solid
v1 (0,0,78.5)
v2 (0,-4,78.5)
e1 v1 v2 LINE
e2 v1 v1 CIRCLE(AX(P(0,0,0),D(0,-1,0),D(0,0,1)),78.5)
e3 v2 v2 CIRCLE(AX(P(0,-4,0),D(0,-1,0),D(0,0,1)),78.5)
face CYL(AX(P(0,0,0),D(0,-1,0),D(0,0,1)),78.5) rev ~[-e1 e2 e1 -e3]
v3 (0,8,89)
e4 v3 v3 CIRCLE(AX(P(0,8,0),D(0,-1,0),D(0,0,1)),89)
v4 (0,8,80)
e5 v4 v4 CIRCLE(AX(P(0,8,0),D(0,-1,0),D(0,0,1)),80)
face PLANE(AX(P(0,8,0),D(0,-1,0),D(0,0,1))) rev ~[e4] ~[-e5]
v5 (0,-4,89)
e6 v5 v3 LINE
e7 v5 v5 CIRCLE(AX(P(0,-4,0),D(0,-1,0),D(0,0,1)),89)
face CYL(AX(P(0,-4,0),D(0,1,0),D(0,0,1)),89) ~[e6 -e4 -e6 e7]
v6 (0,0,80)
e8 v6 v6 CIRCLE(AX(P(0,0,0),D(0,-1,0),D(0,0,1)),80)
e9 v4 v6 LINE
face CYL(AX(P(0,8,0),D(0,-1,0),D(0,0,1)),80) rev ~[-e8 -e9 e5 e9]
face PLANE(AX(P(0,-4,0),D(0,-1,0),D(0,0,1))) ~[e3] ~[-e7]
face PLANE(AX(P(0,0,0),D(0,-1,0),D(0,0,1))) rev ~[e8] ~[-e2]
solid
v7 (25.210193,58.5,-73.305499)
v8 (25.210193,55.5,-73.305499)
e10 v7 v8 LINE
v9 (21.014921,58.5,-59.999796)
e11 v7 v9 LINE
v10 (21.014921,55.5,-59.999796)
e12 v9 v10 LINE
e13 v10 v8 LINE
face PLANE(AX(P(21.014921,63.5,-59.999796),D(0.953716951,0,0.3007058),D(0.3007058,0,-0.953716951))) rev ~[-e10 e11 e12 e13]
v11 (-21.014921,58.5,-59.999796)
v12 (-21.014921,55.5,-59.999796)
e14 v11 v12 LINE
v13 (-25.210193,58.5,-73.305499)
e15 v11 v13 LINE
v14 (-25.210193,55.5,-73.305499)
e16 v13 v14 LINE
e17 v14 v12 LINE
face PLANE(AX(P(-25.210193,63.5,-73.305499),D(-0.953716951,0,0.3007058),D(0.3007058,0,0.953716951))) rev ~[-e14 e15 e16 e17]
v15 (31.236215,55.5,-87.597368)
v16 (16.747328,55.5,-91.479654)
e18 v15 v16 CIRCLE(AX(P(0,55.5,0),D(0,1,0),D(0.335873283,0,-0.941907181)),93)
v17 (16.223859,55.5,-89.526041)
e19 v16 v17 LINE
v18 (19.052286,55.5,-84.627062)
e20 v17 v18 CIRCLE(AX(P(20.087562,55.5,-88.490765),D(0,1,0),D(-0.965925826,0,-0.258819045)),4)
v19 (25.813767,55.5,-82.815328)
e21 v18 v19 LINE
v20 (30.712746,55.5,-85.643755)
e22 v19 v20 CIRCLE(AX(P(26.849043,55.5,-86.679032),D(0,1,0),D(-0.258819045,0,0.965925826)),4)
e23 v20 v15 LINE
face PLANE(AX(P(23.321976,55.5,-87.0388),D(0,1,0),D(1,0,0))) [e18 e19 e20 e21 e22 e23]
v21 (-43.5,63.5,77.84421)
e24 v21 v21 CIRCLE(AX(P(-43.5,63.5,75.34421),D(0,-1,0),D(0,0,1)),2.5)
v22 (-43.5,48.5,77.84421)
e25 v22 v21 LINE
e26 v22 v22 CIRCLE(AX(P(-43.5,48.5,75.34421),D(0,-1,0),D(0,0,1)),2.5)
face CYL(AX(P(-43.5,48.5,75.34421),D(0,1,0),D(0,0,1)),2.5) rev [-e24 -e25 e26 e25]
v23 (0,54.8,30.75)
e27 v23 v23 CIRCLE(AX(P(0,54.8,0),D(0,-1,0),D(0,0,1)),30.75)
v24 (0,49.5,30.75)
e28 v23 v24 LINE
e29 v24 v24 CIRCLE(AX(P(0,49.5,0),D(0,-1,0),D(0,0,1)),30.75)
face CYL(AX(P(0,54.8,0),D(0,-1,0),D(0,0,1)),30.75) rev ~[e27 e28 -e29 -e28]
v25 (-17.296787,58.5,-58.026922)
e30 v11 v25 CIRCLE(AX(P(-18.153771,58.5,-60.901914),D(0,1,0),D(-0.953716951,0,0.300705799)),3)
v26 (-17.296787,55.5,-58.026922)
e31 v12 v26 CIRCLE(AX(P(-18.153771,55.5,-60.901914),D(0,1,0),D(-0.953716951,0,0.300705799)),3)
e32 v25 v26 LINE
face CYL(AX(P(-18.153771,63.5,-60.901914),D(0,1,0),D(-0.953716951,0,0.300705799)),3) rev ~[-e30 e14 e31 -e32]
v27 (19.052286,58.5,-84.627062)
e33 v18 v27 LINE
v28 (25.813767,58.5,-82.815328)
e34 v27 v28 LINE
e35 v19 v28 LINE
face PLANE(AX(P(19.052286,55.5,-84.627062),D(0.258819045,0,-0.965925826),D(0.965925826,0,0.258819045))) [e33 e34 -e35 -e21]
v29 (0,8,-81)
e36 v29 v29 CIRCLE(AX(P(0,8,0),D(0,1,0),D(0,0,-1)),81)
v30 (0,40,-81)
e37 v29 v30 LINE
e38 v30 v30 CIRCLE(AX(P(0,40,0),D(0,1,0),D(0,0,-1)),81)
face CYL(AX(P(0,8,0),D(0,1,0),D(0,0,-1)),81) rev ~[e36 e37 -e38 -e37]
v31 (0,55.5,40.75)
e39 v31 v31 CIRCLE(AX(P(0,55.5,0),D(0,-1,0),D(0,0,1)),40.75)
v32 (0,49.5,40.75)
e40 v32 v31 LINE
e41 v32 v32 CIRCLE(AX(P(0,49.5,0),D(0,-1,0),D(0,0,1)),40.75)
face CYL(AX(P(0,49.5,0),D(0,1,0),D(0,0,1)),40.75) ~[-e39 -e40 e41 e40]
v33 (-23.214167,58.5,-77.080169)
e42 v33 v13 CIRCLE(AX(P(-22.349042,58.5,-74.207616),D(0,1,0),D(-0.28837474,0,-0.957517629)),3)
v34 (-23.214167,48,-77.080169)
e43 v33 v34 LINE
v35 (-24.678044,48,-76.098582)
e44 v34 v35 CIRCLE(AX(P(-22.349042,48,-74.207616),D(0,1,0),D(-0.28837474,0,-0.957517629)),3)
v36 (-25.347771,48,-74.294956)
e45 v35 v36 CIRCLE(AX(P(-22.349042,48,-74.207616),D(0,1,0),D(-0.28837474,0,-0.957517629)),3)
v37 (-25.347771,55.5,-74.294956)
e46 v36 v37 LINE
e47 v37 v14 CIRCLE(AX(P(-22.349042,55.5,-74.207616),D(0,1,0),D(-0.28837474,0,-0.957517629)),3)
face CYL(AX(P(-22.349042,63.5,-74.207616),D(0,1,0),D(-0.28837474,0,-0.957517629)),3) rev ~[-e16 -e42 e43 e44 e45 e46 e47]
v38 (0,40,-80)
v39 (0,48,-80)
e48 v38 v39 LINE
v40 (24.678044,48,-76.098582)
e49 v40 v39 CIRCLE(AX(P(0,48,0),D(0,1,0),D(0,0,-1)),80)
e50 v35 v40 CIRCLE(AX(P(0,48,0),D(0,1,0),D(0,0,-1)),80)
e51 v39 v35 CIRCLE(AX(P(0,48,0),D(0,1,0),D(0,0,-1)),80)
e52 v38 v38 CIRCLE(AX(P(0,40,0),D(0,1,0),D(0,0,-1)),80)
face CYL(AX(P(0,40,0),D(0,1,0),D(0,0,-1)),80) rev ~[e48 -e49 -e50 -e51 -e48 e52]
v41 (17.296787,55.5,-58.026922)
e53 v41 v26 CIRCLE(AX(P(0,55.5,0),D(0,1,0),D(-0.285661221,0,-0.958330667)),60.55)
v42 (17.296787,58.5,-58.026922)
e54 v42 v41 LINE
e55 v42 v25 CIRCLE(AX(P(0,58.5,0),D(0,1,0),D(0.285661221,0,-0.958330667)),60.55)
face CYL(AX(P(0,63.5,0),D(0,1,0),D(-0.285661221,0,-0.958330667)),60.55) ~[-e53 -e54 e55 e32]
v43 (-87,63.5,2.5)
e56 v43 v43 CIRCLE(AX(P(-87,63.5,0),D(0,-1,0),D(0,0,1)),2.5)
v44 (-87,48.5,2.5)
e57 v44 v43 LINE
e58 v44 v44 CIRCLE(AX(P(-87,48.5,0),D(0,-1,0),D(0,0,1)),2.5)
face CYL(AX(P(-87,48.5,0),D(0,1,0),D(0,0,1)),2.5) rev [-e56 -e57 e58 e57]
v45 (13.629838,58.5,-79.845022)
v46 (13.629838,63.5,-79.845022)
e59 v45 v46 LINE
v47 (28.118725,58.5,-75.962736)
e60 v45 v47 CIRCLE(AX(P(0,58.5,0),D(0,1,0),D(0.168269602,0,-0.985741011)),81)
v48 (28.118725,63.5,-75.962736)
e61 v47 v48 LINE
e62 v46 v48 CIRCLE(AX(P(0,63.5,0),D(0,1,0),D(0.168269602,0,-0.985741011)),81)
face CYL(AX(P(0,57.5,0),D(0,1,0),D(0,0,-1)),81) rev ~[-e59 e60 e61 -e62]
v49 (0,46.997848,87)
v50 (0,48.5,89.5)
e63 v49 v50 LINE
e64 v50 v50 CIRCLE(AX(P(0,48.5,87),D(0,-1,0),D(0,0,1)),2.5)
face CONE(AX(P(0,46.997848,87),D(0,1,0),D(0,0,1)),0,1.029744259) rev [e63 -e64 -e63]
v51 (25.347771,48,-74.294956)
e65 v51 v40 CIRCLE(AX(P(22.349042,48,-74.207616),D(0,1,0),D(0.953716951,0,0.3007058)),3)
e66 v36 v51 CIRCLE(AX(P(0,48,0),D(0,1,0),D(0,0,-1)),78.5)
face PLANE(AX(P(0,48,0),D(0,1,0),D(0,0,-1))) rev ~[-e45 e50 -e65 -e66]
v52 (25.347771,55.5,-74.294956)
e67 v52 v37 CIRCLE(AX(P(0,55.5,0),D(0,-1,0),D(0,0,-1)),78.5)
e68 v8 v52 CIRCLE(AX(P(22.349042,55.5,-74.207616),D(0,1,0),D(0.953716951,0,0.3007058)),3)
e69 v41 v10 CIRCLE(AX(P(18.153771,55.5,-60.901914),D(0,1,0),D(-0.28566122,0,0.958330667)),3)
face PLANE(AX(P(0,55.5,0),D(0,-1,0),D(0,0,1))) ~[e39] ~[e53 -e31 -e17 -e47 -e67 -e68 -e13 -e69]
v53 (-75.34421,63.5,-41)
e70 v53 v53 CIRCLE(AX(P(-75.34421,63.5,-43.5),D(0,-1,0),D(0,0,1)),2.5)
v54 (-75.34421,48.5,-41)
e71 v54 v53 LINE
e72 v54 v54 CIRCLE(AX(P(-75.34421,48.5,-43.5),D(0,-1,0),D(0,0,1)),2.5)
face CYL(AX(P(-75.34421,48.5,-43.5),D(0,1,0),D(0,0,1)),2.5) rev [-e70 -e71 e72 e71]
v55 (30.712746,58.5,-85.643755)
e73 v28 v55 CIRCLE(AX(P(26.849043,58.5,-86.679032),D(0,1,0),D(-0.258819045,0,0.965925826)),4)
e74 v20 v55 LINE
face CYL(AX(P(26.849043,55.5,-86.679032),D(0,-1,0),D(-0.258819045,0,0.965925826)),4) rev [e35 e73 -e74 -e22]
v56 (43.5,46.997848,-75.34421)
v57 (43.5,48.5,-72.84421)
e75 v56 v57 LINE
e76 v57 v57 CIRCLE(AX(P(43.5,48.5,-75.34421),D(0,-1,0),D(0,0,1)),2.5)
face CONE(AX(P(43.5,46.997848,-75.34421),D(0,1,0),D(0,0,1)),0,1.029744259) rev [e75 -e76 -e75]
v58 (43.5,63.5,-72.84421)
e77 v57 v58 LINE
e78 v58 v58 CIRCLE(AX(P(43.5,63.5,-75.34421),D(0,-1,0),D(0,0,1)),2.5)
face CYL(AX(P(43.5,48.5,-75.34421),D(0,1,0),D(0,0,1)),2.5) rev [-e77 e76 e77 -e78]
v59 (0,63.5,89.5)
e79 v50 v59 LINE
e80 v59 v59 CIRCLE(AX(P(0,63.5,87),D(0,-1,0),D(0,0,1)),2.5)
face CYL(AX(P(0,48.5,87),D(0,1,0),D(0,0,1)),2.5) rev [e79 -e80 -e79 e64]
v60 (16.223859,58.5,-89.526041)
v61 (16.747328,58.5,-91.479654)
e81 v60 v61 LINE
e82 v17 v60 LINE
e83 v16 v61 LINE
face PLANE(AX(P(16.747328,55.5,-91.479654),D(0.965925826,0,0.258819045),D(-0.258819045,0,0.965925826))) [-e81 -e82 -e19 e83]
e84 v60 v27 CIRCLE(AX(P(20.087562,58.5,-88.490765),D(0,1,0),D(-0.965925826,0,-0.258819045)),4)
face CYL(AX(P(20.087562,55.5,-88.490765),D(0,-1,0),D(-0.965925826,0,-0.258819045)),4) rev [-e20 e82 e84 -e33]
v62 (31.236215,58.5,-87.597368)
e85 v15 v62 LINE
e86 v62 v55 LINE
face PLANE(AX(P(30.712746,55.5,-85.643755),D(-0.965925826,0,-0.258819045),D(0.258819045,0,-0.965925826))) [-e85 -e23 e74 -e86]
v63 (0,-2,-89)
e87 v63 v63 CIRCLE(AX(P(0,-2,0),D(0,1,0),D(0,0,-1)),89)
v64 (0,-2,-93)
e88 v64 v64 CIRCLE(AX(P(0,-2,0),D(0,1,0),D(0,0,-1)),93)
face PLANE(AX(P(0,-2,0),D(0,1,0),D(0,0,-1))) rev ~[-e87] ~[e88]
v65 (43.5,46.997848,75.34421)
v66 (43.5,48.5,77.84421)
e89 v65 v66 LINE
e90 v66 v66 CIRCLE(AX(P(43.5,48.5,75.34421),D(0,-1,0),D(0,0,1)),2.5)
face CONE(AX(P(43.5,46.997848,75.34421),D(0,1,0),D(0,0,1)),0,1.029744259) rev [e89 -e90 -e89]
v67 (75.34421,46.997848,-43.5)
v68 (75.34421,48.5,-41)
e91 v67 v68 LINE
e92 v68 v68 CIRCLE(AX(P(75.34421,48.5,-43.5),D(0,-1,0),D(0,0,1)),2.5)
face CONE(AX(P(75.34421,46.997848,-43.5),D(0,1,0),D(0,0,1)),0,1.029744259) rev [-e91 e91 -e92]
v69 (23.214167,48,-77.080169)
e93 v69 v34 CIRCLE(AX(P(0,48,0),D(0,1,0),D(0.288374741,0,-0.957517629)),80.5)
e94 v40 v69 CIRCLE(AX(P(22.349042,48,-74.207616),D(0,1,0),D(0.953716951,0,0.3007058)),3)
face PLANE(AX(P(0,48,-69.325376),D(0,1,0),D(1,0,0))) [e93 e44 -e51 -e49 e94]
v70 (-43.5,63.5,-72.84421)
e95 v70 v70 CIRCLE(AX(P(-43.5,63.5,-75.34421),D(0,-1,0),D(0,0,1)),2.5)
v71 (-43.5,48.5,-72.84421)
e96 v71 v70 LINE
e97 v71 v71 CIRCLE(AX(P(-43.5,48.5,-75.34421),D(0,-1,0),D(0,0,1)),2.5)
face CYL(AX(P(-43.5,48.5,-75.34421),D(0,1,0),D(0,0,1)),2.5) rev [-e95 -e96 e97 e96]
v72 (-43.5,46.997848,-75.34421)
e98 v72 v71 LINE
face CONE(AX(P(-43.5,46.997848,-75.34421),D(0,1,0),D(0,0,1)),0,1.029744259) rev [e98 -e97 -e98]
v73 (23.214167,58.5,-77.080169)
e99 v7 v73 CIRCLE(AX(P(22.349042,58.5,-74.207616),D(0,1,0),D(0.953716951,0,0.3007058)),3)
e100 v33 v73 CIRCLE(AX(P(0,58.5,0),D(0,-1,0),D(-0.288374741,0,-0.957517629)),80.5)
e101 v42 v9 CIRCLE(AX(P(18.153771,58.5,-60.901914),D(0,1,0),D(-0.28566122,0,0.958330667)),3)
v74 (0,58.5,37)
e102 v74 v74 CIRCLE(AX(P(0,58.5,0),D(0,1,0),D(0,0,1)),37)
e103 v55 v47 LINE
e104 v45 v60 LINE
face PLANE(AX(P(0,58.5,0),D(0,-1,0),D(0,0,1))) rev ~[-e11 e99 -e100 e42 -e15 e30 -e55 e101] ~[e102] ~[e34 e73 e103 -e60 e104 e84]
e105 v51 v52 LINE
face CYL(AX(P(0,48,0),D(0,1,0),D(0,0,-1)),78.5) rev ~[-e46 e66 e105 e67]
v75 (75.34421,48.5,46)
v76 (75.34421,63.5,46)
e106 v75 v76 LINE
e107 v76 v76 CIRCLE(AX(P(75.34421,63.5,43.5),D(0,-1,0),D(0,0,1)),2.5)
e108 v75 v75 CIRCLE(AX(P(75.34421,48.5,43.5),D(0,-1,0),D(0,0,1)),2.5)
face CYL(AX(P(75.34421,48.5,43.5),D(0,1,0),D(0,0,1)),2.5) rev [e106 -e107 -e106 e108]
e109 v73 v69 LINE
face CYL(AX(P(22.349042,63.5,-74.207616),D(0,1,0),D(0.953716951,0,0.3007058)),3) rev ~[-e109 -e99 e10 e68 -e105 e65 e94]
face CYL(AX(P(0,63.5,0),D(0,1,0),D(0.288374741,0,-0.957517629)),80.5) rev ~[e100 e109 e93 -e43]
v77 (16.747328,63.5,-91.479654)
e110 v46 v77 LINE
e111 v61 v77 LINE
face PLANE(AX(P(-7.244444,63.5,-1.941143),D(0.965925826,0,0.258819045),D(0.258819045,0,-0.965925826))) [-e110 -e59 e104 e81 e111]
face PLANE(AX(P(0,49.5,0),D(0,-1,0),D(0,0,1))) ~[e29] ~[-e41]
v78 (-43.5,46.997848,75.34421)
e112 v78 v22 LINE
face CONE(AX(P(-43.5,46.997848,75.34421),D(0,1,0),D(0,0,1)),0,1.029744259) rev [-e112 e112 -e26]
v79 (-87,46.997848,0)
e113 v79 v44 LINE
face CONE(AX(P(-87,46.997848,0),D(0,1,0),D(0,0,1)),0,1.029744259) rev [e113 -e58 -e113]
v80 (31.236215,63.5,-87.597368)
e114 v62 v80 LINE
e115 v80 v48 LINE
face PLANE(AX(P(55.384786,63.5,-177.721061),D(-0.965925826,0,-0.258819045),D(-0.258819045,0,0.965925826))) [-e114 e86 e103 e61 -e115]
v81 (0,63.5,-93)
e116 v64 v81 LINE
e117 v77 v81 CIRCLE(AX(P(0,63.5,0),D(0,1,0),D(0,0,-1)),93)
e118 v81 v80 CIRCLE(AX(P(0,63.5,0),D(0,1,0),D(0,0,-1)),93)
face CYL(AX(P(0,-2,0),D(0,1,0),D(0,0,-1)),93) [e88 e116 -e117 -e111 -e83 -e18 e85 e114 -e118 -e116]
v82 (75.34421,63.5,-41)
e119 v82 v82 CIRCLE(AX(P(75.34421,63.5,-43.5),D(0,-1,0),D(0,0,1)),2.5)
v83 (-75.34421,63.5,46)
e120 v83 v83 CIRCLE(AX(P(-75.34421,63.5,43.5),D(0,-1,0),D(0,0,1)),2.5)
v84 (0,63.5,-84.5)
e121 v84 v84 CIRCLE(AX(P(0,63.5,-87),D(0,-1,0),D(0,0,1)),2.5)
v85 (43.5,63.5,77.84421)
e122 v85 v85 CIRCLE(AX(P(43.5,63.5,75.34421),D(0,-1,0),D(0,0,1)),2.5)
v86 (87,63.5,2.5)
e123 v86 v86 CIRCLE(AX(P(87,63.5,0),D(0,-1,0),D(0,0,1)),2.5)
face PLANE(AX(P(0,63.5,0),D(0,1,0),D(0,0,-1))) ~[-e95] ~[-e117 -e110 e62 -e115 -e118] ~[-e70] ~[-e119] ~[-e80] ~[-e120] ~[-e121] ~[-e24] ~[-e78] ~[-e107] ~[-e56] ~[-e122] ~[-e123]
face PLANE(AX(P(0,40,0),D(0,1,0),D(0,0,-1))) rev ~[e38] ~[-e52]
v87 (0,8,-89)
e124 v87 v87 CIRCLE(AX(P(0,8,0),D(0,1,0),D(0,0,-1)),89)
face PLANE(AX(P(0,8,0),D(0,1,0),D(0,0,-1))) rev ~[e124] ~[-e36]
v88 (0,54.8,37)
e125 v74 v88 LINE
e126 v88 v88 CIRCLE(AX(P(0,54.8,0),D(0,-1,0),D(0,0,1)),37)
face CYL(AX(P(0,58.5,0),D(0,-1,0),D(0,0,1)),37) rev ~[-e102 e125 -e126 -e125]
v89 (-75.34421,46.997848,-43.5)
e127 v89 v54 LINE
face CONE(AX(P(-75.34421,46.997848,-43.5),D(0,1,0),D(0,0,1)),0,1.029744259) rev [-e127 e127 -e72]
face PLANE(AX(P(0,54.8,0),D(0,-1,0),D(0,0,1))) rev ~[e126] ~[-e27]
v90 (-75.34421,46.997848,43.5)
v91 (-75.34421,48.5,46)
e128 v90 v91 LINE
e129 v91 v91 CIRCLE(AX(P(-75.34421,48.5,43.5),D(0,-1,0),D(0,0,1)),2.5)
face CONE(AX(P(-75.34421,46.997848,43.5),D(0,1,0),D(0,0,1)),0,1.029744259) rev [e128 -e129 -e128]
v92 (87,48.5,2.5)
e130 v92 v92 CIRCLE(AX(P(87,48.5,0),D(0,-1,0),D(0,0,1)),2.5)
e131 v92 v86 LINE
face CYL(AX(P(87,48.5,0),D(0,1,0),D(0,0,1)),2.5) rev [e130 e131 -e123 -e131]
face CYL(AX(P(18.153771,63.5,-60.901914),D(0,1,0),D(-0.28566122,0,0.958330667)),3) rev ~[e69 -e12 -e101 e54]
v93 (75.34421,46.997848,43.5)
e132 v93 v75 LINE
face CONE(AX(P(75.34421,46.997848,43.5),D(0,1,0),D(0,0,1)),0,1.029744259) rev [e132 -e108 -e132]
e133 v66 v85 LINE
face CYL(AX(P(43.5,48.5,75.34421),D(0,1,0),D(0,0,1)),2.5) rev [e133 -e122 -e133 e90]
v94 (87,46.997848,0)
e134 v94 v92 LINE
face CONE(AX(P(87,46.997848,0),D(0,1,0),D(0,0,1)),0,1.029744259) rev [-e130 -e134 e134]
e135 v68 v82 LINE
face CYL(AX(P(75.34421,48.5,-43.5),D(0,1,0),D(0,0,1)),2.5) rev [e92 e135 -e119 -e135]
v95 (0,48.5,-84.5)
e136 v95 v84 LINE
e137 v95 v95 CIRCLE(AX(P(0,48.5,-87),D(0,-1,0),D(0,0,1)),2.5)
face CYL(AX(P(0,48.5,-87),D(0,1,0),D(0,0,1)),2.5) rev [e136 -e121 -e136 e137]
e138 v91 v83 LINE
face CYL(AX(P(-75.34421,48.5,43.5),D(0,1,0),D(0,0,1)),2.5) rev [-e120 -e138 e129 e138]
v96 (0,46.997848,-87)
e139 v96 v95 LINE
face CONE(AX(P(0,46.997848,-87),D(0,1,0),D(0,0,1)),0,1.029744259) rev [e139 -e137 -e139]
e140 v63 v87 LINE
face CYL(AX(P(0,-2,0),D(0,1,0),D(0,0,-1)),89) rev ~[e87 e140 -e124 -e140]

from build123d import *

# Parameters (mm, degrees)
M6_TAPPED_HOLE1_AT_2_COUNT  = 2
M6_TAPPED_HOLE1_AT_2_PITCH  = 45.034513848
M6_TAPPED_HOLE1_AT_3_COUNT  = 2
M6_TAPPED_HOLE1_AT_3_PITCH  = 87
M6_TAPPED_HOLE1_AT_4_COUNT  = 2
M6_TAPPED_HOLE1_AT_4_PITCH  = 123.036579926
M6_TAPPED_HOLE1_AT_5_COUNT  = 2
M6_TAPPED_HOLE1_AT_5_PITCH  = 150.688420258
M6_TAPPED_HOLE1_AT_6_COUNT  = 2
M6_TAPPED_HOLE1_AT_6_PITCH  = 168.071093774
M6_TAPPED_HOLE1_AT_7_COUNT  = 2
M6_TAPPED_HOLE1_AT_7_PITCH  = 174
M6_TAPPED_HOLE1_AT_8_COUNT  = 2
M6_TAPPED_HOLE1_AT_8_PITCH  = 168.071093774
M6_TAPPED_HOLE1_AT_9_COUNT  = 2
M6_TAPPED_HOLE1_AT_9_PITCH  = 150.688420258
M6_TAPPED_HOLE1_AT_10_COUNT = 2
M6_TAPPED_HOLE1_AT_10_PITCH = 123.036579926
M6_TAPPED_HOLE1_AT_11_COUNT = 2
M6_TAPPED_HOLE1_AT_11_PITCH = 87
M6_TAPPED_HOLE1_AT_12_COUNT = 2
M6_TAPPED_HOLE1_AT_12_PITCH = 45.034513848
CUT_EXTRUDE1_DEPTH          = 15.5
CUT_EXTRUDE2_DEPTH          = 5
CUT_EXTRUDE3_START          = -3
CUT_EXTRUDE3_DEPTH          = 3


with BuildPart() as part:
    # Sketch2 → Revolve1 (revolve)
    with BuildSketch(Plane.XY, mode=Mode.PRIVATE) as revolve1_sk:
        Polygon((81, 8), (81, 40), (80, 40), (80, 48), (78.5, 48), (78.5, 56.5), (81, 57.5), (81, 63.5), (93, 63.5), (93, 60.5), (93, -2), (89, -2), (89, 8), align=None)
    revolve(revolve1_sk.sketch.rotate(Axis((0, 0, 0), (0, 1, 0)), 90), axis=Axis((0, 0, 0), (0, 1, 0)))

    # Sketch15 → Revolve3 (revolve)
    with BuildSketch(Plane.XY, mode=Mode.PRIVATE) as revolve3_sk:
        Polygon((37, 57.8), (37, 54.8), (30.75, 54.8), (30.75, 49.5), (40.75, 49.5), (40.75, 55.5), (78.5, 55.5), (78.5, 56.5), (81, 57.5), (81, 58.5), (37, 58.5), align=None)
    revolve(revolve3_sk.sketch.rotate(Axis((0, 60.772219232, 0), (0, -1, 0)), 90), axis=Axis((0, 60.772219232, 0), (0, -1, 0)))

    # Sketch11 → M6 Tapped Hole1 (revolve, cut)
    with BuildSketch(Plane(origin=(0, 63.5, -87), x_dir=(0, 0, 1), z_dir=(1, 0, 0))):
        Polygon((0, 0), (0, 16.502151548), (2.5, 15), (2.5, 0), align=None)
    m6_tapped_hole1 = revolve(axis=Axis((0, 69.85, -87), (0, -1, 0)), mode=Mode.SUBTRACT)

    # M6 Tapped Hole1 at 2: M6 Tapped Hole1 ×2
    with Locations(*[Vector(0.9659258262890639, 0, 0.2588190451025372) * (i * M6_TAPPED_HOLE1_AT_2_PITCH) for i in range(1, M6_TAPPED_HOLE1_AT_2_COUNT)]):
        add(m6_tapped_hole1, mode=Mode.SUBTRACT)

    # M6 Tapped Hole1 at 3: M6 Tapped Hole1 ×2
    with Locations(*[Vector(0.8660254037844218, 0, 0.5000000000000291) * (i * M6_TAPPED_HOLE1_AT_3_PITCH) for i in range(1, M6_TAPPED_HOLE1_AT_3_COUNT)]):
        add(m6_tapped_hole1, mode=Mode.SUBTRACT)

    # M6 Tapped Hole1 at 4: M6 Tapped Hole1 ×2
    with Locations(*[Vector(0.7071067811865119, 0, 0.7071067811865832) * (i * M6_TAPPED_HOLE1_AT_4_PITCH) for i in range(1, M6_TAPPED_HOLE1_AT_4_COUNT)]):
        add(m6_tapped_hole1, mode=Mode.SUBTRACT)

    # M6 Tapped Hole1 at 5: M6 Tapped Hole1 ×2
    with Locations(*[Vector(0.4999999999999419, 0, 0.8660254037844722) * (i * M6_TAPPED_HOLE1_AT_5_PITCH) for i in range(1, M6_TAPPED_HOLE1_AT_5_COUNT)]):
        add(m6_tapped_hole1, mode=Mode.SUBTRACT)

    # M6 Tapped Hole1 at 6: M6 Tapped Hole1 ×2
    with Locations(*[Vector(0.2588190451024396, 0, 0.9659258262890901) * (i * M6_TAPPED_HOLE1_AT_6_PITCH) for i in range(1, M6_TAPPED_HOLE1_AT_6_COUNT)]):
        add(m6_tapped_hole1, mode=Mode.SUBTRACT)

    # M6 Tapped Hole1 at 7: M6 Tapped Hole1 ×2
    with Locations(*[(0, 0, i * M6_TAPPED_HOLE1_AT_7_PITCH) for i in range(1, M6_TAPPED_HOLE1_AT_7_COUNT)]):
        add(m6_tapped_hole1, mode=Mode.SUBTRACT)

    # M6 Tapped Hole1 at 8: M6 Tapped Hole1 ×2
    with Locations(*[Vector(-0.25881904510263437, 0, 0.9659258262890379) * (i * M6_TAPPED_HOLE1_AT_8_PITCH) for i in range(1, M6_TAPPED_HOLE1_AT_8_COUNT)]):
        add(m6_tapped_hole1, mode=Mode.SUBTRACT)

    # M6 Tapped Hole1 at 9: M6 Tapped Hole1 ×2
    with Locations(*[Vector(-0.5000000000001162, 0, 0.8660254037843715) * (i * M6_TAPPED_HOLE1_AT_9_PITCH) for i in range(1, M6_TAPPED_HOLE1_AT_9_COUNT)]):
        add(m6_tapped_hole1, mode=Mode.SUBTRACT)

    # M6 Tapped Hole1 at 10: M6 Tapped Hole1 ×2
    with Locations(*[Vector(-0.7071067811866543, 0, 0.7071067811864408) * (i * M6_TAPPED_HOLE1_AT_10_PITCH) for i in range(1, M6_TAPPED_HOLE1_AT_10_COUNT)]):
        add(m6_tapped_hole1, mode=Mode.SUBTRACT)

    # M6 Tapped Hole1 at 11: M6 Tapped Hole1 ×2
    with Locations(*[Vector(-0.8660254037845226, 0, 0.49999999999985456) * (i * M6_TAPPED_HOLE1_AT_11_PITCH) for i in range(1, M6_TAPPED_HOLE1_AT_11_COUNT)]):
        add(m6_tapped_hole1, mode=Mode.SUBTRACT)

    # M6 Tapped Hole1 at 12: M6 Tapped Hole1 ×2
    with Locations(*[Vector(-0.9659258262891162, 0, 0.2588190451023424) * (i * M6_TAPPED_HOLE1_AT_12_PITCH) for i in range(1, M6_TAPPED_HOLE1_AT_12_COUNT)]):
        add(m6_tapped_hole1, mode=Mode.SUBTRACT)

    # Sketch13 → Cut-Extrude1 (cut)
    with BuildSketch(Plane(origin=(0, 63.5, 0), x_dir=(1, 0, 0), z_dir=(0, 1, 0))):
        with BuildLine():
            Line((-25.210193245, 73.305498815), (-21.014921414, 59.999796483))
            ThreePointArc((-21.014921414, 59.999796483), (-19.559910698, 58.251862954), (-17.296786901, 58.02692188))
            ThreePointArc((-17.296786901, 58.02692188), (0, 60.55), (17.296786901, 58.02692188))
            ThreePointArc((17.296786901, 58.02692188), (19.559910698, 58.251862954), (21.014921414, 59.999796483))
            Line((21.014921414, 59.999796483), (25.210193245, 73.305498815))
            ThreePointArc((25.210193245, 73.305498815), (25.001082253, 75.610001532), (23.214166614, 77.080169099))
            ThreePointArc((23.214166614, 77.080169099), (0, 80.5), (-23.214166614, 77.080169099))
            ThreePointArc((-23.214166614, 77.080169099), (-25.001082253, 75.610001532), (-25.210193245, 73.305498815))
        make_face()
    extrude(amount=-CUT_EXTRUDE1_DEPTH, mode=Mode.SUBTRACT)

    # Sketch19 → Cut-Extrude2 (cut)
    with BuildSketch(Plane(origin=(0, 63.5, 0), x_dir=(1, 0, 0), z_dir=(0, 1, 0))):
        Polygon((-7.244443697, 1.941142838), (40.895898692, 181.603346528), (55.384786086, 177.721060851), (7.244443697, -1.941142838), align=None)
    extrude(amount=-CUT_EXTRUDE2_DEPTH, mode=Mode.SUBTRACT)

    # Sketch27 → Cut-Extrude3 (cut)
    with BuildSketch(Plane(origin=(0, 58.5, 0), x_dir=(1, 0, 0), z_dir=(0, 1, 0)).offset(CUT_EXTRUDE3_START)):
        with BuildLine():
            Line((16.74732793, 91.479653515), (16.223859038, 89.526041012))
            ThreePointArc((16.223859038, 89.526041012), (16.623460728, 86.490764831), (19.052286162, 84.627061526))
            Line((19.052286162, 84.627061526), (25.813766946, 82.815328211))
            ThreePointArc((25.813766946, 82.815328211), (28.849043127, 83.214929901), (30.712746432, 85.643755335))
            Line((30.712746432, 85.643755335), (31.236215324, 87.597367838))
            ThreePointArc((31.236215324, 87.597367838), (24.070171195, 89.831101845), (16.74732793, 91.479653515))
        make_face()
    extrude(amount=CUT_EXTRUDE3_DEPTH, mode=Mode.SUBTRACT)


with BuildPart() as body_2:
    # Sketch3 → Revolve2 (revolve)
    with BuildSketch(Plane.XY, mode=Mode.PRIVATE) as revolve2_sk:
        Polygon((80, 8), (80, 0), (78.5, 0), (78.5, -4), (89, -4), (89, 8), align=None)
    revolve(revolve2_sk.sketch.rotate(Axis((0, -0.3, 0), (0, -1, 0)), 90), axis=Axis((0, -0.3, 0), (0, -1, 0)))


solid = Compound([part.part, body_2.part])
